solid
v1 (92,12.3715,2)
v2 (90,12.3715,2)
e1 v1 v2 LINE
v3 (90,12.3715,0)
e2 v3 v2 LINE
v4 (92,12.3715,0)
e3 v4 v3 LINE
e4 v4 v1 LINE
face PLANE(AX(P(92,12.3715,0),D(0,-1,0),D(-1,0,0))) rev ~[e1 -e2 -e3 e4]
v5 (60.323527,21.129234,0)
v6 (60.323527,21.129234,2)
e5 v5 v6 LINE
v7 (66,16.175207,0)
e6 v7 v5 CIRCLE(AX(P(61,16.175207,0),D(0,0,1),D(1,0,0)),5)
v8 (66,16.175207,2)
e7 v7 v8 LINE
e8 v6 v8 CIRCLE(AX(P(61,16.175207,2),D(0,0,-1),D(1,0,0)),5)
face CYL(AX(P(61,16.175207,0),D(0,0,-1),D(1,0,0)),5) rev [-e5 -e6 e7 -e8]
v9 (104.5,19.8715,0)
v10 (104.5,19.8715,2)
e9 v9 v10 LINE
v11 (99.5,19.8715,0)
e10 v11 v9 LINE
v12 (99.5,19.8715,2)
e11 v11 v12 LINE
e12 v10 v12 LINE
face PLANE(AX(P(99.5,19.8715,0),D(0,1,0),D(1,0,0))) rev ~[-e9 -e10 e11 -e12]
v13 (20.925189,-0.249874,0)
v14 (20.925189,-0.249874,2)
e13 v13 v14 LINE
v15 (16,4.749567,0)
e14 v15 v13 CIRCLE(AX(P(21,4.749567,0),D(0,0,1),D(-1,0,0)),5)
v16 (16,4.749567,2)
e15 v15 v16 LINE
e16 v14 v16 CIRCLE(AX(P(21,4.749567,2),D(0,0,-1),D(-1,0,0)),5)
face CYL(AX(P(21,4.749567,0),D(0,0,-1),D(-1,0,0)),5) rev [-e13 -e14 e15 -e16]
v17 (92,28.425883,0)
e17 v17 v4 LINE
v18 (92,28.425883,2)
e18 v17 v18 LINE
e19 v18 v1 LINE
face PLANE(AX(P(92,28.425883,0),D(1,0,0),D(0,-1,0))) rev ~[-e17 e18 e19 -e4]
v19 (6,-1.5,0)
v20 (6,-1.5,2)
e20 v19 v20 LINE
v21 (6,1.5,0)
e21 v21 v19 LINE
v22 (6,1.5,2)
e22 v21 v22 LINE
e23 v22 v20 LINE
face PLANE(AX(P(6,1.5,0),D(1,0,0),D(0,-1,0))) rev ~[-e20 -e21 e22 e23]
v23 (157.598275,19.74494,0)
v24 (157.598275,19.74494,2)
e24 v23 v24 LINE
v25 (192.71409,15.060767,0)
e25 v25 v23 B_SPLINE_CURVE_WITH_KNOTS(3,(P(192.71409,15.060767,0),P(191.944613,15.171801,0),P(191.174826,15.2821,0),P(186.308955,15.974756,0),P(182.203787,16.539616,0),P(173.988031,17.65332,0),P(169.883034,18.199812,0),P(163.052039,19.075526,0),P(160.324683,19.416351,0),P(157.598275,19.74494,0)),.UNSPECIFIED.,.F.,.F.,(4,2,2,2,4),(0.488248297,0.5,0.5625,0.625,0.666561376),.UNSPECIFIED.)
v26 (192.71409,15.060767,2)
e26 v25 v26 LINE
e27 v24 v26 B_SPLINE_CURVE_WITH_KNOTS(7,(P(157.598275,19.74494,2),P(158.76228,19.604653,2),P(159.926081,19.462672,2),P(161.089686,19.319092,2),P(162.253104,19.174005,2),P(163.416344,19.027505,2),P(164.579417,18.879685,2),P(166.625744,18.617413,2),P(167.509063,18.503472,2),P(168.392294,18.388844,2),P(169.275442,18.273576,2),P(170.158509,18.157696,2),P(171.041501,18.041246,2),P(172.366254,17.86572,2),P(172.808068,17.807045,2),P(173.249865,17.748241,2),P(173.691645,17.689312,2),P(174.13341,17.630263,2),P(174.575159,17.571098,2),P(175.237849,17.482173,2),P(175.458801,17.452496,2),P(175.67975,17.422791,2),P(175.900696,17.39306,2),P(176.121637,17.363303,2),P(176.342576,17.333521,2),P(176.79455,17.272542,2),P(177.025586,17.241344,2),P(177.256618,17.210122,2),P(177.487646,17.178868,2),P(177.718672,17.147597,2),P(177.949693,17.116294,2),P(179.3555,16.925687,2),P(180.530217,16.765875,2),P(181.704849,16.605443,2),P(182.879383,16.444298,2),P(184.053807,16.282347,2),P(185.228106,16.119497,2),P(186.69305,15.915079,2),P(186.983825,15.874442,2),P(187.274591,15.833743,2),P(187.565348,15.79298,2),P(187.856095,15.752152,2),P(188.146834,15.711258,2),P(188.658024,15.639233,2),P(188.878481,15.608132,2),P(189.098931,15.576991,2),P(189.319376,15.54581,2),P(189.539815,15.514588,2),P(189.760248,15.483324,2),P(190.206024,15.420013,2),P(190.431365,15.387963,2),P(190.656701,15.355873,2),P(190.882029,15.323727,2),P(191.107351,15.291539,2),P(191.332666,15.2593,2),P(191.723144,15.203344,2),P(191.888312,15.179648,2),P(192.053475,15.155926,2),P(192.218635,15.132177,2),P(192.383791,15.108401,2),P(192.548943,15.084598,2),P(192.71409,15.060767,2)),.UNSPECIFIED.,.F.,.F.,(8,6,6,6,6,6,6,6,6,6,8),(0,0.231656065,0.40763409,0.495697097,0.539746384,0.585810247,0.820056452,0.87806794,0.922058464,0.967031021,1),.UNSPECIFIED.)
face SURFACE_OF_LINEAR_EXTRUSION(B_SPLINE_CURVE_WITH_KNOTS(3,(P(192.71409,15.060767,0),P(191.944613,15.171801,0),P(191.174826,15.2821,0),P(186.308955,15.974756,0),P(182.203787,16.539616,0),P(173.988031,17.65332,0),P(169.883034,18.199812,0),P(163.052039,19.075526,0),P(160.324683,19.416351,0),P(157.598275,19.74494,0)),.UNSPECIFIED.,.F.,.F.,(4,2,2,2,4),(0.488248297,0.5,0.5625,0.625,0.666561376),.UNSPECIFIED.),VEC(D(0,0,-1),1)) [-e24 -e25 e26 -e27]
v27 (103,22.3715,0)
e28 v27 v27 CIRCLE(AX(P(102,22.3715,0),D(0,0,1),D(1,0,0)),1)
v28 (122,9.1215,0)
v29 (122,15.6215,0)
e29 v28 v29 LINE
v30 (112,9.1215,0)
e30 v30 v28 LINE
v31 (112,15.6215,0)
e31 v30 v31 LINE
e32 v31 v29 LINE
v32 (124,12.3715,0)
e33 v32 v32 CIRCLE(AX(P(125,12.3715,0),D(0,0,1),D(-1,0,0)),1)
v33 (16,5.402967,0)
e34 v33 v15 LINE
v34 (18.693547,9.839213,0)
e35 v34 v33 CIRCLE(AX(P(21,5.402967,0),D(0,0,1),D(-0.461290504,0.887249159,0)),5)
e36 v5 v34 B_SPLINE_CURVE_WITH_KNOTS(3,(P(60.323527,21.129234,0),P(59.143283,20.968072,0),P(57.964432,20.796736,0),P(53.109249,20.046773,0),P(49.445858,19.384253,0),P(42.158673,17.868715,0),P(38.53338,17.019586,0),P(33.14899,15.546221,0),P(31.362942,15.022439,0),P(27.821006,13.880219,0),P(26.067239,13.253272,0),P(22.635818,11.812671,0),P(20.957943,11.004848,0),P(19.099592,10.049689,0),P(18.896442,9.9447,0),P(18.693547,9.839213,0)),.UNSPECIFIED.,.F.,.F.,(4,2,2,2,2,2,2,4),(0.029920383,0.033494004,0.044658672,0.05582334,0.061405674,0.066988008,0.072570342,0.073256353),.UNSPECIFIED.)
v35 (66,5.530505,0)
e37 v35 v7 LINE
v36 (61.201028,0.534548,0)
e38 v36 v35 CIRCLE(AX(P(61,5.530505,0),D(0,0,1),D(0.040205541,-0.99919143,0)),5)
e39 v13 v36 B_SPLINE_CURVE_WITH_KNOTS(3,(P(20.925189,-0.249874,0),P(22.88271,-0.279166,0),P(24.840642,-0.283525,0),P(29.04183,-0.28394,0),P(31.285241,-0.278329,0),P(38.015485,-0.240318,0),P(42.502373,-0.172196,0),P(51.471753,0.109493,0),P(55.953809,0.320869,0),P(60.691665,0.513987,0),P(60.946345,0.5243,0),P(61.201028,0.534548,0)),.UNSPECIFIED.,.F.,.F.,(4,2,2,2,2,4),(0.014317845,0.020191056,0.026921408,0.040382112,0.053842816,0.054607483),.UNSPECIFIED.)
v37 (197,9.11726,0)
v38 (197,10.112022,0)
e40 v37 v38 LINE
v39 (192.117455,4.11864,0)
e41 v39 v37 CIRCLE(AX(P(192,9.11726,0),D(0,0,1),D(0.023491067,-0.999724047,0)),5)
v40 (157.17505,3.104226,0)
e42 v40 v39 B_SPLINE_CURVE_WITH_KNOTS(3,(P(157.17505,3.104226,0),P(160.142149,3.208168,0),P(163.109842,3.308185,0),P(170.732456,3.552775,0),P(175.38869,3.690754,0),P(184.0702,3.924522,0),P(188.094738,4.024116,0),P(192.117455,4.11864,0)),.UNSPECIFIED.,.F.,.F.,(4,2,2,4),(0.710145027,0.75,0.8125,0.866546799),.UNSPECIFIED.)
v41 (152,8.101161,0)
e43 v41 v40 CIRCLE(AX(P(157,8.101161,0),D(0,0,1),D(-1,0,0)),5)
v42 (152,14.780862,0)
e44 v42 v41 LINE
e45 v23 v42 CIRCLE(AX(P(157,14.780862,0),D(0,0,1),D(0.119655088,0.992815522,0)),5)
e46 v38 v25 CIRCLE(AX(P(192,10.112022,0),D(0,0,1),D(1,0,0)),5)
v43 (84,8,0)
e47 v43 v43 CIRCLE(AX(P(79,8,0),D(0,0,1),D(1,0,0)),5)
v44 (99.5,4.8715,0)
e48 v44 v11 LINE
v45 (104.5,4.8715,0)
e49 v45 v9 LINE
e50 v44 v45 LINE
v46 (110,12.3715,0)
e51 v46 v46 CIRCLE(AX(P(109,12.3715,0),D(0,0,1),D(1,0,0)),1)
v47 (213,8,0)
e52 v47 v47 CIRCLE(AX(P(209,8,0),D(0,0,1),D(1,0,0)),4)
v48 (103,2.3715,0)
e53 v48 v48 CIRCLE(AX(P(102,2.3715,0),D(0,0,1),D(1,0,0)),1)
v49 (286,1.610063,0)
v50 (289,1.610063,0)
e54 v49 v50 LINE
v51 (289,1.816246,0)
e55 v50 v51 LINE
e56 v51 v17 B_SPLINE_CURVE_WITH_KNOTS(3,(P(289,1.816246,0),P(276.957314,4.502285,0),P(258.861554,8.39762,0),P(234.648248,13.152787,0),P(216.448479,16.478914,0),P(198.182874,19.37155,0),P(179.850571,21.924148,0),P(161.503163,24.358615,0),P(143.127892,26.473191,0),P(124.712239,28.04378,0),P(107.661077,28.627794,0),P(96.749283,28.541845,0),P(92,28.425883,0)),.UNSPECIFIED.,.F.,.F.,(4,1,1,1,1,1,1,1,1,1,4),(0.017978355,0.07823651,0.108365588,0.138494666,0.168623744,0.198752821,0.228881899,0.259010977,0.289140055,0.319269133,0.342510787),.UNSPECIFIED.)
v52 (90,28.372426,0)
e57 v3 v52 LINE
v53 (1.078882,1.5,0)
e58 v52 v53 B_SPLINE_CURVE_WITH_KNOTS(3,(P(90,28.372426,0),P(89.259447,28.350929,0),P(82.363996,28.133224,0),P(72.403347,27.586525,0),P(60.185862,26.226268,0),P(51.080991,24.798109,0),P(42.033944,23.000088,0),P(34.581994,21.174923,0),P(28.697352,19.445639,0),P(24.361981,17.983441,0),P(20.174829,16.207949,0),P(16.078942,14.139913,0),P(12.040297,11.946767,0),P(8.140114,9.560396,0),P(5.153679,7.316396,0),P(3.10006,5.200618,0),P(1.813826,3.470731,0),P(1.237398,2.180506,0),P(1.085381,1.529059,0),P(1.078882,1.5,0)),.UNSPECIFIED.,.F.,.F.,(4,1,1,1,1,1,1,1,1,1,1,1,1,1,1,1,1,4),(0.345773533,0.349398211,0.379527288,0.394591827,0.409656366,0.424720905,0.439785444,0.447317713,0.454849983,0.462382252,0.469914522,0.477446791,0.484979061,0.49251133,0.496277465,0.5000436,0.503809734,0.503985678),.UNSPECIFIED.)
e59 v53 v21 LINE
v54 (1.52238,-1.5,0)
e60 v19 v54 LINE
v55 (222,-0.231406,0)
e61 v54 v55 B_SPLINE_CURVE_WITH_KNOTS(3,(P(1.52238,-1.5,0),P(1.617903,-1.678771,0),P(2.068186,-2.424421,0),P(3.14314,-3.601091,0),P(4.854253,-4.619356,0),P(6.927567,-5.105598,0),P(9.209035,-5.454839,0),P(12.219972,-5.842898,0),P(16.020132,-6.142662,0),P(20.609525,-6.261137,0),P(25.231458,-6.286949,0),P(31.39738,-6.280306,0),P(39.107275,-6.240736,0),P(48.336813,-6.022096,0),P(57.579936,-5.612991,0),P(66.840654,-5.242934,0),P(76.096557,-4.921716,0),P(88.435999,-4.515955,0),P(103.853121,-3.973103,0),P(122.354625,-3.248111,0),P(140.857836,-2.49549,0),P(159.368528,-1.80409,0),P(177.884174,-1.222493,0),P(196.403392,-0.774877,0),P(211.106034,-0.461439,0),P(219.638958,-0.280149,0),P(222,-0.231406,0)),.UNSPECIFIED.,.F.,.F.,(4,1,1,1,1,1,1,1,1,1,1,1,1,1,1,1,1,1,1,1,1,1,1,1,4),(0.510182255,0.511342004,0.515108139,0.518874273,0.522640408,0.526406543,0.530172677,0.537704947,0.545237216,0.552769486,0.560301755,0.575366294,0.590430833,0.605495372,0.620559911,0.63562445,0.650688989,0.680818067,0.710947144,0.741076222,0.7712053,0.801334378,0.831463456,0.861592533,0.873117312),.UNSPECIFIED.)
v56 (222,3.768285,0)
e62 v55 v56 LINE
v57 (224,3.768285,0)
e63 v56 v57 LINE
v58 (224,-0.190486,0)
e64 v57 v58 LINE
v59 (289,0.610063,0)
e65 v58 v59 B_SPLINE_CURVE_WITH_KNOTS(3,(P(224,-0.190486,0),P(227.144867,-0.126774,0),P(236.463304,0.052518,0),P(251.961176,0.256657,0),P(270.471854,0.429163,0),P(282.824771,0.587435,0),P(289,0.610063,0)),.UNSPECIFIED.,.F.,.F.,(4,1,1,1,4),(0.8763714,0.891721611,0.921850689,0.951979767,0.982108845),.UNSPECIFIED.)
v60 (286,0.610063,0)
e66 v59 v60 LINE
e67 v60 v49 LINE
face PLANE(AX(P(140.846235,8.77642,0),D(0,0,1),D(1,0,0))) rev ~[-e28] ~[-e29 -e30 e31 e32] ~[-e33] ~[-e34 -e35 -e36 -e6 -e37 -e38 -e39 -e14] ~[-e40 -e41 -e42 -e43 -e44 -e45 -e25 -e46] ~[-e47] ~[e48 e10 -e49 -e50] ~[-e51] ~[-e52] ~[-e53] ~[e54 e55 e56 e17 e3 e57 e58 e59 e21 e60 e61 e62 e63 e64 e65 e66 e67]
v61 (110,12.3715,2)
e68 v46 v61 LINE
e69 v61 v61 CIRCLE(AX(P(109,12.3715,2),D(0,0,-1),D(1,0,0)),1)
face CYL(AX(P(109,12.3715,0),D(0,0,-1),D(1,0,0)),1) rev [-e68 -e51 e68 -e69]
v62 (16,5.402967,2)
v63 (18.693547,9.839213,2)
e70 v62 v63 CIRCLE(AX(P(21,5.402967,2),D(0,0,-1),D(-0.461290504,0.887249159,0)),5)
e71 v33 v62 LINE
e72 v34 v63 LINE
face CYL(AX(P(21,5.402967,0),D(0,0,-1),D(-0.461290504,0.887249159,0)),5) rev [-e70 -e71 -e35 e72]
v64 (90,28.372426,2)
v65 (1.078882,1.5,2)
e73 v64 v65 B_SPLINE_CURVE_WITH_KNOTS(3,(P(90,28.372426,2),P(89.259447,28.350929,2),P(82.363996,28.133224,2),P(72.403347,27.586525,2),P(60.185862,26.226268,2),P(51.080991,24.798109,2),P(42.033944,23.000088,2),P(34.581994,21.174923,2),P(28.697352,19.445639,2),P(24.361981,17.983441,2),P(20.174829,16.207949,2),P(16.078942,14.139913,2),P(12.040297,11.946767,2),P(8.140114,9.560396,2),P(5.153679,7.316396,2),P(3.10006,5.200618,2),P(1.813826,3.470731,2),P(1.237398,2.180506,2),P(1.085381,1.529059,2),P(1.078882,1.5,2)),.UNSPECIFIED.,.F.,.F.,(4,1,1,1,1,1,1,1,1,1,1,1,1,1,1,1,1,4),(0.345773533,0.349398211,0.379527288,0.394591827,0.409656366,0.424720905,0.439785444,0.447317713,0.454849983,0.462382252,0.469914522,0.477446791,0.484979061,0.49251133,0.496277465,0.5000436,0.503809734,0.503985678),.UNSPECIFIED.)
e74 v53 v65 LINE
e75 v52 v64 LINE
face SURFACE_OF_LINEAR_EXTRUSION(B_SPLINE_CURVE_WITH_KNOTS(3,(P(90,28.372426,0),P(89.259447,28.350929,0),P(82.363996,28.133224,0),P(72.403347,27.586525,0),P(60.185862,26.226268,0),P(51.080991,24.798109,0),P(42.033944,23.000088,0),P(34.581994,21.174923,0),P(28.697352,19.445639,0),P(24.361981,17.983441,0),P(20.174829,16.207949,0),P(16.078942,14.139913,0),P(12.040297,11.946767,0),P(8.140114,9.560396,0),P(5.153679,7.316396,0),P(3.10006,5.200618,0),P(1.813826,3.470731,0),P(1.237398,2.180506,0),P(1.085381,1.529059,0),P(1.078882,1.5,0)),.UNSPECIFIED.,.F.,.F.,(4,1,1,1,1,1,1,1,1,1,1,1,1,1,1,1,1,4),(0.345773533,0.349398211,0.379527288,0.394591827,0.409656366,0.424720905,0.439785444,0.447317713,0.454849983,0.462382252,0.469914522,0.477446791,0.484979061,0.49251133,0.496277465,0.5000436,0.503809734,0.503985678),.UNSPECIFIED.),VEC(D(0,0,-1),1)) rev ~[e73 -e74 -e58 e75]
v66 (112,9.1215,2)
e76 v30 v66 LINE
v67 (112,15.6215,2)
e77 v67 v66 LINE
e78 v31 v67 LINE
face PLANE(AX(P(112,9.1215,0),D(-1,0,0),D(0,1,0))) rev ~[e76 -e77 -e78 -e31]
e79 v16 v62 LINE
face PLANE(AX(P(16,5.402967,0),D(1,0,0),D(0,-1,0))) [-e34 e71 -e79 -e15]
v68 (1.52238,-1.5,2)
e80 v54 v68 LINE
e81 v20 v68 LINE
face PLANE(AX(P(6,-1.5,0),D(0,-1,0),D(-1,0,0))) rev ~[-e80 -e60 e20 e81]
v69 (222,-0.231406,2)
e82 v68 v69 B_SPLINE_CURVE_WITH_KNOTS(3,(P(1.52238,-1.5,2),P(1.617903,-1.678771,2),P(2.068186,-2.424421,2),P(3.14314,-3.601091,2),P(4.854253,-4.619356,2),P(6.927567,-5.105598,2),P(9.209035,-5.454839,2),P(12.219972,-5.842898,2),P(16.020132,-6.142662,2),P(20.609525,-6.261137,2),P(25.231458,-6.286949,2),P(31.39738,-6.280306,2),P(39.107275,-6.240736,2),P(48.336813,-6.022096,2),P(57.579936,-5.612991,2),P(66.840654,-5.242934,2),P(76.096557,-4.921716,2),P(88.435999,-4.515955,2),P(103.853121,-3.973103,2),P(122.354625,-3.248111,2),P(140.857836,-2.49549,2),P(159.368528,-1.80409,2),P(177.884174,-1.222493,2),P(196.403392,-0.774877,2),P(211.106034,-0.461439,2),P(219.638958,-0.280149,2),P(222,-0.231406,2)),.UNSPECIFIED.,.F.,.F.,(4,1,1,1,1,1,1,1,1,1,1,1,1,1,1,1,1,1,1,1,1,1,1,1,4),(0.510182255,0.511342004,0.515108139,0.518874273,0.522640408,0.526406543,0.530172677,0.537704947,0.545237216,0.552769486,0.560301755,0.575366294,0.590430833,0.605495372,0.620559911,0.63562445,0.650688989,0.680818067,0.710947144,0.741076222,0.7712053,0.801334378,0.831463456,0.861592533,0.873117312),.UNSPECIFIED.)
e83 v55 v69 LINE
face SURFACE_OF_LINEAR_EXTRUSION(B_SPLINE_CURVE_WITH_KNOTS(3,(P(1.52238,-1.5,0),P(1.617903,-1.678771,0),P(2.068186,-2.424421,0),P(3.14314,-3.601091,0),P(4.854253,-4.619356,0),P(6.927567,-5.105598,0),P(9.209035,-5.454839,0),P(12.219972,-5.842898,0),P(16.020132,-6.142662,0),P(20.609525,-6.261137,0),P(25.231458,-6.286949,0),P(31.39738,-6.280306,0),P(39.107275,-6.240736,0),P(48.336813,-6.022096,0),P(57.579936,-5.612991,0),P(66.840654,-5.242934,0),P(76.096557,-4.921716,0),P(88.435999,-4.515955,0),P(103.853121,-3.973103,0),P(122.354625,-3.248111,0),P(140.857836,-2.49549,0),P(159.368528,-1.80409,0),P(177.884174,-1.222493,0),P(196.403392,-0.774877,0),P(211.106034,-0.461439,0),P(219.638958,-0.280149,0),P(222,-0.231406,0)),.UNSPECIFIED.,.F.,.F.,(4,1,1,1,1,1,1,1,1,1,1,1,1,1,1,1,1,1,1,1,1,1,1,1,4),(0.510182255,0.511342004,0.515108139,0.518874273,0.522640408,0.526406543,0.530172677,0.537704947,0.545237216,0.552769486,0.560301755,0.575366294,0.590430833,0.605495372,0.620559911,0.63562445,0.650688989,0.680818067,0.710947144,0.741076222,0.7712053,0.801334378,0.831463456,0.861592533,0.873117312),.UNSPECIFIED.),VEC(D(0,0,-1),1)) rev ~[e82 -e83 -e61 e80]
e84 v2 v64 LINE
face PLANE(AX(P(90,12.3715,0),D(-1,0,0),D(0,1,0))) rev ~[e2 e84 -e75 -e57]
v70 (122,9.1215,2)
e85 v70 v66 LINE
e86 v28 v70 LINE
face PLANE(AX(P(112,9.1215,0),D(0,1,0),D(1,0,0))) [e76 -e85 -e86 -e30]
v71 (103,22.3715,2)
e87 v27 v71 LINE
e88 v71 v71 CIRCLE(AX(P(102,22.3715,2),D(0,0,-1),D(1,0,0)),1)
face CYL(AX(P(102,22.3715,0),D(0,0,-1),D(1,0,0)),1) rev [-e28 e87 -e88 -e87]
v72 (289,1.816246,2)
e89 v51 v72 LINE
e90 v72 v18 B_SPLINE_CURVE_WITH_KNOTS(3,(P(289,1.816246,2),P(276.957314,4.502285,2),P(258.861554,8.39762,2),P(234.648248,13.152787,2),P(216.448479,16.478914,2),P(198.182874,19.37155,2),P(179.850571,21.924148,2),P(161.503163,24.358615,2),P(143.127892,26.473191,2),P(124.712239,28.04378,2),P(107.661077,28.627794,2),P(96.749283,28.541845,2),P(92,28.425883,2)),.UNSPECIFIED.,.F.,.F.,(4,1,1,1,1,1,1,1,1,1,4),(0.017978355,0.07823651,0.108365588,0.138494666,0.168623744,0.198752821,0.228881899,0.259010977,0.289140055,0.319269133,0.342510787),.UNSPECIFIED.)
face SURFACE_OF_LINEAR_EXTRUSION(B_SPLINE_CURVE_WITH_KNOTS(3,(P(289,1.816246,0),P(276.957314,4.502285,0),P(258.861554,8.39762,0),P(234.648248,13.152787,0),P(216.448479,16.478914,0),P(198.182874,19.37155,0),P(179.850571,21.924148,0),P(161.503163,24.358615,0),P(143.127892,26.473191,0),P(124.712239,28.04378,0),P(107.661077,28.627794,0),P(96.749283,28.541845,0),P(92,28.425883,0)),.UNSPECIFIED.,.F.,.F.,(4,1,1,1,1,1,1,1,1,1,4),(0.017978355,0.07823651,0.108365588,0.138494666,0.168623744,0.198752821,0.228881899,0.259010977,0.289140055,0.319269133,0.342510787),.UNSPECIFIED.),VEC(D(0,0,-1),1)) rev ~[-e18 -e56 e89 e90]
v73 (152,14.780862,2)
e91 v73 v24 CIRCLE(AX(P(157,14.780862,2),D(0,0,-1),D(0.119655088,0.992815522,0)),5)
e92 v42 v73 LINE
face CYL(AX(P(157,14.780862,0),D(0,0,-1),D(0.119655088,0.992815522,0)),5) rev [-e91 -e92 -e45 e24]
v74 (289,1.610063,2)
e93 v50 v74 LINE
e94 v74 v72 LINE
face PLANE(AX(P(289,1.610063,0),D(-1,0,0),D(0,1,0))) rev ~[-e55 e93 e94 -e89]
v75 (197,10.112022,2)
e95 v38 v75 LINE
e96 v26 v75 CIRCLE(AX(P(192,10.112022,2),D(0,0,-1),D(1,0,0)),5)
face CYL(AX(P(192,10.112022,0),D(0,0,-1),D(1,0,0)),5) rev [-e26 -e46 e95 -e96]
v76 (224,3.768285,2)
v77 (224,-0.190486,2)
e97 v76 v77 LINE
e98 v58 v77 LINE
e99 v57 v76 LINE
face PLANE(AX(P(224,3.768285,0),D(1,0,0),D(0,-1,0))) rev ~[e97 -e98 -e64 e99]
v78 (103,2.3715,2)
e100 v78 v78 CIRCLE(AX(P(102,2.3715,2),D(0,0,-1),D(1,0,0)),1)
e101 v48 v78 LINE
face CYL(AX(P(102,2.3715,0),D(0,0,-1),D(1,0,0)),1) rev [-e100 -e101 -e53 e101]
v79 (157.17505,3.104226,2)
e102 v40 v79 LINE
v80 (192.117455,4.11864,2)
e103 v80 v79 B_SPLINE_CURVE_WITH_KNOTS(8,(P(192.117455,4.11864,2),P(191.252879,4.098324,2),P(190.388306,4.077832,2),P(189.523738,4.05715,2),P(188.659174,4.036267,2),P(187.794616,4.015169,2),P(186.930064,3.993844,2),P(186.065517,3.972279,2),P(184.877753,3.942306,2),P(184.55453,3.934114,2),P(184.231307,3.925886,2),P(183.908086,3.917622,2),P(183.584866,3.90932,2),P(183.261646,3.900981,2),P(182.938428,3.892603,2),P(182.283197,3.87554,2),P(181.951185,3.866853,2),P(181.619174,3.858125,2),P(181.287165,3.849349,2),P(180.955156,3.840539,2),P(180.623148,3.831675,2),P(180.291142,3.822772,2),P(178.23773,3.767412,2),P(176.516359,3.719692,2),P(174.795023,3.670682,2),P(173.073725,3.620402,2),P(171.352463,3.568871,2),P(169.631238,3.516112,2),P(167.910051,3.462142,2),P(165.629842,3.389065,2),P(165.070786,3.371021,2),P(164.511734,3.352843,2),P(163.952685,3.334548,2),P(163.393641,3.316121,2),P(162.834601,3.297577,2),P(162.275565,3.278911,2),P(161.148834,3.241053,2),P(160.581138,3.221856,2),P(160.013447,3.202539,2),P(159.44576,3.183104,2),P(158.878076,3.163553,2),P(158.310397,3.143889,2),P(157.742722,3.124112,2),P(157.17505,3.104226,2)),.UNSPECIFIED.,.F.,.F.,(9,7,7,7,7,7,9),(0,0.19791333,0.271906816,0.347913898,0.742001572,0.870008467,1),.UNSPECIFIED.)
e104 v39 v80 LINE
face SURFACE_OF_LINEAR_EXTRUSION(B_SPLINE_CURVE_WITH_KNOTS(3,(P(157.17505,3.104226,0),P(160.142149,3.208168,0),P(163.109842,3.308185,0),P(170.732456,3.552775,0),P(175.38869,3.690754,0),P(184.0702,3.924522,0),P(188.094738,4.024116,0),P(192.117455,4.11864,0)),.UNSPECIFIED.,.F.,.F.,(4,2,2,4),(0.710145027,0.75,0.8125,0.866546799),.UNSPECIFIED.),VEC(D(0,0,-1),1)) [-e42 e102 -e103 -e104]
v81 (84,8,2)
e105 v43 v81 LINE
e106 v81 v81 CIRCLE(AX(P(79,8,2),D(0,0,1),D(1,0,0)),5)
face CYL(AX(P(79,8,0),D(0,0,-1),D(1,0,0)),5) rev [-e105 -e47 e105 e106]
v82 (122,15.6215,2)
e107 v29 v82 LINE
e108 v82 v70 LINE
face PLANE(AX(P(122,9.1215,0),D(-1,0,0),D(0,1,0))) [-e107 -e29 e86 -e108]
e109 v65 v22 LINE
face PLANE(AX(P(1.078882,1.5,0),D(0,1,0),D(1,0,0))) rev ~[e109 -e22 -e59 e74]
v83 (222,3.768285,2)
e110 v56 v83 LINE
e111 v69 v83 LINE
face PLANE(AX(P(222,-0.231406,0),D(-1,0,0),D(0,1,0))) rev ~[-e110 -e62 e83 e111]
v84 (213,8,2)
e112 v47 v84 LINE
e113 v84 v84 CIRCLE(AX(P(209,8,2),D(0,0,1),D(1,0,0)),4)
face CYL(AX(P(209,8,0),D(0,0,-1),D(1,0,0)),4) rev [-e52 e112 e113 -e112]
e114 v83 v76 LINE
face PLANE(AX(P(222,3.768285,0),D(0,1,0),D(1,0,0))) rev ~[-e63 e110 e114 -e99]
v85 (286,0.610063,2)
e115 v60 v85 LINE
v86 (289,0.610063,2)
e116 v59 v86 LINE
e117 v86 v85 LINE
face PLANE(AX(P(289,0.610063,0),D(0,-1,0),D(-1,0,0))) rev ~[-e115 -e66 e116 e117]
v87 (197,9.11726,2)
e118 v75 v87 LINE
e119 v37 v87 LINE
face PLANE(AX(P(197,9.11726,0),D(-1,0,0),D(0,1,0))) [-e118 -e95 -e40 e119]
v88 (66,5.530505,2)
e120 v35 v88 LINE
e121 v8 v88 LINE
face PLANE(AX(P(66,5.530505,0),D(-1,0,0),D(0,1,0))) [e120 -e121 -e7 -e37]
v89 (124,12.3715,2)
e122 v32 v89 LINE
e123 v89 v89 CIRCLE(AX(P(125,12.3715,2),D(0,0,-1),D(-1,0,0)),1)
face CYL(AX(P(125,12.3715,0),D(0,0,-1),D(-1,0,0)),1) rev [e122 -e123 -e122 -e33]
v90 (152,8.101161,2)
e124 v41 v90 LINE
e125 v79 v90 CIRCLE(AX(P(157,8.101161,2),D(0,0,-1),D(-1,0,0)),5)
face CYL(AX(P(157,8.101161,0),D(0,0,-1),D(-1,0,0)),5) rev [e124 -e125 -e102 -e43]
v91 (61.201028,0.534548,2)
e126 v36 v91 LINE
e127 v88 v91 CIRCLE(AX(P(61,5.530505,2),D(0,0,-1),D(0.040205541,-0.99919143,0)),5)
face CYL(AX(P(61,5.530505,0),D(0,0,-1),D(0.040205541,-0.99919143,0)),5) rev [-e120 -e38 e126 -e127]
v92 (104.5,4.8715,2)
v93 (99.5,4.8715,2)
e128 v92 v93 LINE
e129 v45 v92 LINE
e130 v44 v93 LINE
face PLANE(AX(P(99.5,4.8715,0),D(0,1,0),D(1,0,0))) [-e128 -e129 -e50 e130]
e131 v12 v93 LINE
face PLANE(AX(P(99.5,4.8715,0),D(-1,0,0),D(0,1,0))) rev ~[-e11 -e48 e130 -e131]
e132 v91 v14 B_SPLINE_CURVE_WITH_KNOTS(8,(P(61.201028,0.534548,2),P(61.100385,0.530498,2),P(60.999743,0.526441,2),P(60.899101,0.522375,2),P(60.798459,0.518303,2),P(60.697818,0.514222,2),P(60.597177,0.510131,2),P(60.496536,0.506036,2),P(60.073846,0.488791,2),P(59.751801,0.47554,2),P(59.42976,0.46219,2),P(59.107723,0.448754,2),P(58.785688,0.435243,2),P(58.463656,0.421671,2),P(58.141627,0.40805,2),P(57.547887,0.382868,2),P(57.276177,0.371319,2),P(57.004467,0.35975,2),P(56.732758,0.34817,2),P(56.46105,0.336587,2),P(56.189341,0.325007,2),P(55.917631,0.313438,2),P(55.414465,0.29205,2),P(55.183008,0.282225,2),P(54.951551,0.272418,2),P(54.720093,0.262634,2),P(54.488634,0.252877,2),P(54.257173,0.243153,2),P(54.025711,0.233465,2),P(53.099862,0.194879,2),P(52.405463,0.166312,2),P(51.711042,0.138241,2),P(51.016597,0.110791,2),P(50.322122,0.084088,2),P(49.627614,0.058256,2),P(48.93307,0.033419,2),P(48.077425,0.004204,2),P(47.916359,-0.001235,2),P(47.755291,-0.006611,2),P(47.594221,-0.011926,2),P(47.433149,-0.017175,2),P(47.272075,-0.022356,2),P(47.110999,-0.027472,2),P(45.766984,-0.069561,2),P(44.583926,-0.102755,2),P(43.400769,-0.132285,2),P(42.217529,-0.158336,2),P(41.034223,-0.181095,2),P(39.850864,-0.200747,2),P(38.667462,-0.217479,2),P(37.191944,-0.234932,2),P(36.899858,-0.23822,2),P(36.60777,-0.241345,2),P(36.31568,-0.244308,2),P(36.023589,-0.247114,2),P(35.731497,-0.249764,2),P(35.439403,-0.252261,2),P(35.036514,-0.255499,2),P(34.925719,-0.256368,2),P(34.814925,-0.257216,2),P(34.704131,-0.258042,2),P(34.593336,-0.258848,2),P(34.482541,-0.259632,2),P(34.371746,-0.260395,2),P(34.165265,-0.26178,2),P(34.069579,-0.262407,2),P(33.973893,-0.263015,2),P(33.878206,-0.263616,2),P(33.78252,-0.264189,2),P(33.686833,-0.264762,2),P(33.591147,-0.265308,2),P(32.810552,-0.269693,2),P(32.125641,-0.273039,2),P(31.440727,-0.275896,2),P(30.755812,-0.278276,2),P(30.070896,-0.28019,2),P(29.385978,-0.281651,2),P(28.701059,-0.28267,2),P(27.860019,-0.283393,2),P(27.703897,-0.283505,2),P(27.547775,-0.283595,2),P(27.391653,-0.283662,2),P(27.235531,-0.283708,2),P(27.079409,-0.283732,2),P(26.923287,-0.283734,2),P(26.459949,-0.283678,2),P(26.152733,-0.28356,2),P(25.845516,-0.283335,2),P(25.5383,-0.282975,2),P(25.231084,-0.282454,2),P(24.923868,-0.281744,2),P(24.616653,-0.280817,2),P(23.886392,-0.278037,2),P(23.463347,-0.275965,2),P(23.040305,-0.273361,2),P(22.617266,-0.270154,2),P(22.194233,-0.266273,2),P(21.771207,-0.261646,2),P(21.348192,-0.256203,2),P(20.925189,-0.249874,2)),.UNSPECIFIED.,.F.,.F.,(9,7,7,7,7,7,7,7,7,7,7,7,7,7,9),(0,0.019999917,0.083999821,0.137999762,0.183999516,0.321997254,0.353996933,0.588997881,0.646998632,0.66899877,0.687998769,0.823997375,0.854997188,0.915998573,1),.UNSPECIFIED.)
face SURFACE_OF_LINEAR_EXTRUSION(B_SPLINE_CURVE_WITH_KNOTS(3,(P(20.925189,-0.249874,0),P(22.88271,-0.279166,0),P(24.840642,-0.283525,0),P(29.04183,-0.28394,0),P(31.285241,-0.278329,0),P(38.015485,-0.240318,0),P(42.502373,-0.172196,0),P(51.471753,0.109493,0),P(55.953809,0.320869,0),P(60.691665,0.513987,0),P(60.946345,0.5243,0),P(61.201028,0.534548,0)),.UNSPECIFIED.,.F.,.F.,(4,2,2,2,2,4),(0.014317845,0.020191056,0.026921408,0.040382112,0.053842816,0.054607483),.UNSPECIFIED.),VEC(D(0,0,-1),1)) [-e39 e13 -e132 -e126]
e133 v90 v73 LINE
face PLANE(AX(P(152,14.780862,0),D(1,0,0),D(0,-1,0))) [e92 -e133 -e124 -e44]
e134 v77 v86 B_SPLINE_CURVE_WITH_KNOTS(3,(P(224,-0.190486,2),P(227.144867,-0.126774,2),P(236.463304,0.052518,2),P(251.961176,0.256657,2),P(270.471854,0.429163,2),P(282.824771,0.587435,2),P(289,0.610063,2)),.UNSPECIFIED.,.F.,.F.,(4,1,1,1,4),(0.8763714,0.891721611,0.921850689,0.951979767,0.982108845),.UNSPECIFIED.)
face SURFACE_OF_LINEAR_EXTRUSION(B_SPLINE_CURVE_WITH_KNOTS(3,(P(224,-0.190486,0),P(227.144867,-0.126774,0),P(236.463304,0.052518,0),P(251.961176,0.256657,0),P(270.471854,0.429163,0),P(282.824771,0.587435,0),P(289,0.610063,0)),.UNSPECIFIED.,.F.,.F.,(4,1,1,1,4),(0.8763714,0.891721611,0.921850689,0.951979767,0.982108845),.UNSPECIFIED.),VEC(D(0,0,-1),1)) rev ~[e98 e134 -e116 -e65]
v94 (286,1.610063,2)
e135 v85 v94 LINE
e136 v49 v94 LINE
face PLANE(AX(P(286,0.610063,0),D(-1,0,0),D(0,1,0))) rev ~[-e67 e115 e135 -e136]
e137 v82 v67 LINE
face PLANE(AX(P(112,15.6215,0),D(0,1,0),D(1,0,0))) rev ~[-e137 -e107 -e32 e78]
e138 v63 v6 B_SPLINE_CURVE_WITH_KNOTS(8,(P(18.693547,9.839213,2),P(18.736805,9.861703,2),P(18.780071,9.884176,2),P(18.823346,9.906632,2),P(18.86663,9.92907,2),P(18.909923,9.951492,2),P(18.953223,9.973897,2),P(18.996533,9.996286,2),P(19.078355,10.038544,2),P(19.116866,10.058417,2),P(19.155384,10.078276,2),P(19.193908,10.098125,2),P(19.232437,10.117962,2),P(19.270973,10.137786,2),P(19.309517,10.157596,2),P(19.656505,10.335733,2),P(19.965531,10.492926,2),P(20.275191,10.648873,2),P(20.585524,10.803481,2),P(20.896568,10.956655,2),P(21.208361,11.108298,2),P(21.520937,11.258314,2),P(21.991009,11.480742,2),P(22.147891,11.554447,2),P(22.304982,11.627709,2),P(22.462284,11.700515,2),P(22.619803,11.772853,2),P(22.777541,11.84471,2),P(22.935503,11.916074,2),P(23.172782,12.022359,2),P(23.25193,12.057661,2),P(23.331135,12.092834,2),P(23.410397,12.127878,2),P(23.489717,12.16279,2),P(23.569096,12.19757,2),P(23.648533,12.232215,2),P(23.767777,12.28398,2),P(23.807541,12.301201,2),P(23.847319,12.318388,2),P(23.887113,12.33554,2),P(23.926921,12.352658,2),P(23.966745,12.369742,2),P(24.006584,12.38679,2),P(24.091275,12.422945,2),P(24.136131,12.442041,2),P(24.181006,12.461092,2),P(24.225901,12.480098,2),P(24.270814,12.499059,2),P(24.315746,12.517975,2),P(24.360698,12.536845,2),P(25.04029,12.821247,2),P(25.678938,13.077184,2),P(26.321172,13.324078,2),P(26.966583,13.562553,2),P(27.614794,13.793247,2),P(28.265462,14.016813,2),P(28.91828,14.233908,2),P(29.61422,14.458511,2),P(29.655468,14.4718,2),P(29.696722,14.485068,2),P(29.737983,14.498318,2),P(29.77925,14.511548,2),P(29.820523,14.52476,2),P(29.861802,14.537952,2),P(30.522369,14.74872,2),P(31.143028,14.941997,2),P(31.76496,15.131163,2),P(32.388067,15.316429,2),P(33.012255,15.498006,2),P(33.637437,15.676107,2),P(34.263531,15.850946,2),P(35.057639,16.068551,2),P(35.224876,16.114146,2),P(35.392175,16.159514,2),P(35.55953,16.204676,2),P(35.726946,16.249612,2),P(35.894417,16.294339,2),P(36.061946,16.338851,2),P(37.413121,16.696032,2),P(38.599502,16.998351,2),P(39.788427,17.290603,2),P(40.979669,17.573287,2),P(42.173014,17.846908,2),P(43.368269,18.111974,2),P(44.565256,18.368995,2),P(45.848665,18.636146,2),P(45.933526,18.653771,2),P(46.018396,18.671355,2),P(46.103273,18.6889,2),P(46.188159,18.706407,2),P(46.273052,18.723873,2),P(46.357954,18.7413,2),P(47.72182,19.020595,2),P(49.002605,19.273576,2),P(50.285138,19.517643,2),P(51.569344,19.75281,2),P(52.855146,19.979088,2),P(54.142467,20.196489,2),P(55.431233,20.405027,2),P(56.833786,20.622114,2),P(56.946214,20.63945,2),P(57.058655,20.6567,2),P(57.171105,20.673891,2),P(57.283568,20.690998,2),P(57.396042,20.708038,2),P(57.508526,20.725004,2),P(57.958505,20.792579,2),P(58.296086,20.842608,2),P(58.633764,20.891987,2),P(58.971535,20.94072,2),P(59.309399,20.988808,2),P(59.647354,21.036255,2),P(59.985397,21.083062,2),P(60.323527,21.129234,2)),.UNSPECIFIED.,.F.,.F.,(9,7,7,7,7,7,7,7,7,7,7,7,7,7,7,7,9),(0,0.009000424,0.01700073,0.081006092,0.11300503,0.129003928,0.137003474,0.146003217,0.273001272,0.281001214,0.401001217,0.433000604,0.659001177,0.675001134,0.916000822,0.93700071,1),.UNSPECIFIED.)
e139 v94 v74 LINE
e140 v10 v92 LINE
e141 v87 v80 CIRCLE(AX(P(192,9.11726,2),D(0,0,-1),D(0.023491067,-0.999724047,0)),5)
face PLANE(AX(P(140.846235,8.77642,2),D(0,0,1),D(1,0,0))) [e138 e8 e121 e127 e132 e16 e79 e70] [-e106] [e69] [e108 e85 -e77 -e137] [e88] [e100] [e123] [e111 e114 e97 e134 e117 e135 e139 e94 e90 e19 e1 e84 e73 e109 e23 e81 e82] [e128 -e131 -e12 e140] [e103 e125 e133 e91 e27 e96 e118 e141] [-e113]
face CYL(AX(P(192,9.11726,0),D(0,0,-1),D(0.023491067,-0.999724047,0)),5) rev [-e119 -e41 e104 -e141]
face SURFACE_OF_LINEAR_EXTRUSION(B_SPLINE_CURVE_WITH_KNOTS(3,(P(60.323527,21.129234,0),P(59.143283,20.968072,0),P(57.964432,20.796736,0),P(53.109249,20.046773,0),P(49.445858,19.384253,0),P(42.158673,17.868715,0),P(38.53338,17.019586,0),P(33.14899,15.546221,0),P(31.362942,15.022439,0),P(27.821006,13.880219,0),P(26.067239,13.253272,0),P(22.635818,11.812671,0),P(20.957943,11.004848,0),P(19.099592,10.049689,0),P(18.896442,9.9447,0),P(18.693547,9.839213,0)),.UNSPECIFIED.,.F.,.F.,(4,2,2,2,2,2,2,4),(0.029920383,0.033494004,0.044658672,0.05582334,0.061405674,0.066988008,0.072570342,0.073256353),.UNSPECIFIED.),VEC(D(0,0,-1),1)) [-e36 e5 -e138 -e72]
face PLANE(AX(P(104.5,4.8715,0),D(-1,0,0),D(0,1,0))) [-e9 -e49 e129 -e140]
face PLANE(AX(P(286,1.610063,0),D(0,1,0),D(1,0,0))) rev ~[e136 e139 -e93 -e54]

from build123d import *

# Parameters (mm, degrees)
SKETCH_1_R          = 5
SKETCH_1_R_2        = 4
EXTRUDE_1_DEPTH     = 2
SKETCH_3_R          = 1
SKETCH_3_W          = 10
SKETCH_3_H          = 6.5
SKETCH_3_W_2        = 5
SKETCH_3_H_2        = 15
CUT_EXTRUDE_2_DEPTH = 291.413778556


with BuildPart() as part:
    # 草图1 → 凸台-拉伸1 (new body)
    with BuildSketch(Plane.XY):
        with BuildLine():
            Line((90, 12.3715), (90, 28.372426217))
            add(Edge.make_bspline(
                [(90, 28.372426217), (89.259446982, 28.350928743), (82.363996343, 28.13322439), (72.403347361, 27.586524792), (60.185862052, 26.226268085), (51.080991088, 24.79810862), (42.033943524, 23.000087944), (34.581994337, 21.174922903), (28.697351661, 19.44563851), (24.361981086, 17.983441115), (20.174828998, 16.207949367), (16.078941989, 14.139912989), (12.040296713, 11.946766626), (8.14011433, 9.56039573), (5.153679337, 7.316395724), (3.100060439, 5.200618052), (1.813825976, 3.470730924), (1.237398467, 2.180506339), (1.085380705, 1.529058937), (1.078882286, 1.5)],
                knots=[0.345773533, 0.345773533, 0.345773533, 0.345773533, 0.349398211, 0.379527288, 0.394591827, 0.409656366, 0.424720905, 0.439785444, 0.447317713, 0.454849983, 0.462382252, 0.469914522, 0.477446791, 0.484979061, 0.49251133, 0.496277465, 0.5000436, 0.503809734, 0.503985678, 0.503985678, 0.503985678, 0.503985678], degree=3))
            Line((1.078882286, 1.5), (6, 1.5))
            Line((6, 1.5), (6, -1.5))
            Line((6, -1.5), (1.522379628, -1.5))
            add(Edge.make_bspline(
                [(1.522379628, -1.5), (1.617903461, -1.678770523), (2.068186491, -2.42442122), (3.143139608, -3.601090845), (4.854253, -4.619355756), (6.927567017, -5.105597911), (9.209034621, -5.454839075), (12.219971865, -5.84289763), (16.020132359, -6.14266222), (20.609524976, -6.2611368), (25.231457517, -6.286948592), (31.397380169, -6.280305851), (39.107274969, -6.240736398), (48.336813051, -6.022096429), (57.579935967, -5.612990736), (66.840654471, -5.242934226), (76.096556555, -4.921715721), (88.435998513, -4.515955408), (103.853120896, -3.973102953), (122.354625015, -3.248110744), (140.857835973, -2.495489966), (159.368527813, -1.804089638), (177.884173919, -1.222493213), (196.4033921, -0.774877257), (211.106034353, -0.46143934), (219.638958118, -0.28014938), (222, -0.231405833)],
                knots=[0.510182255, 0.510182255, 0.510182255, 0.510182255, 0.511342004, 0.515108139, 0.518874273, 0.522640408, 0.526406543, 0.530172677, 0.537704947, 0.545237216, 0.552769486, 0.560301755, 0.575366294, 0.590430833, 0.605495372, 0.620559911, 0.63562445, 0.650688989, 0.680818067, 0.710947144, 0.741076222, 0.7712053, 0.801334378, 0.831463456, 0.861592533, 0.873117312, 0.873117312, 0.873117312, 0.873117312], degree=3))
            Line((222, -0.231405833), (222, 3.768284765))
            Line((222, 3.768284765), (224, 3.768284765))
            Line((224, 3.768284765), (224, -0.190486213))
            add(Edge.make_bspline(
                [(224, -0.190486213), (227.14486696, -0.126773539), (236.463303784, 0.052517956), (251.961175933, 0.256656825), (270.471854229, 0.429163033), (282.824771355, 0.587434741), (289, 0.610062865)],
                knots=[0.8763714, 0.8763714, 0.8763714, 0.8763714, 0.891721611, 0.921850689, 0.951979767, 0.982108845, 0.982108845, 0.982108845, 0.982108845], degree=3))
            Line((289, 0.610062865), (286, 0.610062865))
            Line((286, 0.610062865), (286, 1.610062865))
            Line((286, 1.610062865), (289, 1.610062865))
            Line((289, 1.610062865), (289, 1.816246039))
            add(Edge.make_bspline(
                [(289, 1.816246039), (276.957314444, 4.502285023), (258.861554155, 8.397620333), (234.648247971, 13.152786595), (216.448478593, 16.478914183), (198.182873559, 19.371550405), (179.850571346, 21.924148488), (161.503162682, 24.358614825), (143.127892269, 26.473190985), (124.712239059, 28.043780086), (107.661076739, 28.627794226), (96.749283398, 28.541845307), (92, 28.425883181)],
                knots=[0.017978355, 0.017978355, 0.017978355, 0.017978355, 0.07823651, 0.108365588, 0.138494666, 0.168623744, 0.198752821, 0.228881899, 0.259010977, 0.289140055, 0.319269133, 0.342510787, 0.342510787, 0.342510787, 0.342510787], degree=3))
            Line((92, 28.425883181), (92, 12.3715))
            Line((92, 12.3715), (90, 12.3715))
        make_face()
        with Locations((79, 8)):
            Circle(SKETCH_1_R, mode=Mode.SUBTRACT)
        with Locations((209, 8)):
            Circle(SKETCH_1_R_2, mode=Mode.SUBTRACT)
    extrude(amount=EXTRUDE_1_DEPTH)

    # 草图3 → 切除-拉伸2 (cut, through all)
    with BuildSketch(Plane.XY):
        with Locations((109, 12.3715)):
            Circle(SKETCH_3_R)
        with Locations(Location((125, 12.3715, 0), (0, 0, 180))):
            Circle(SKETCH_3_R)
        with Locations((102, 22.3715)):
            Circle(SKETCH_3_R)
        with Locations((102, 2.3715)):
            Circle(SKETCH_3_R)
        with BuildLine():
            Line((16, 5.402967421), (16, 4.749566555))
            ThreePointArc((16, 4.749566555), (17.438114785, 1.240581842), (20.925189485, -0.249873753))
            add(Edge.make_bspline(
                [(20.925189485, -0.249873753), (22.882709708, -0.279165651), (24.840641991, -0.283525018), (29.041829536, -0.283940324), (31.285240614, -0.278329339), (38.015485271, -0.240317871), (42.502372715, -0.172195541), (51.471753165, 0.109493271), (55.953809182, 0.320868582), (60.691665275, 0.51398671), (60.94634527, 0.524299853), (61.201027705, 0.534547785)],
                knots=[0.014317845, 0.014317845, 0.014317845, 0.014317845, 0.020191056, 0.020191056, 0.026921408, 0.026921408, 0.040382112, 0.040382112, 0.053842816, 0.053842816, 0.054607483, 0.054607483, 0.054607483, 0.054607483], degree=3))
            ThreePointArc((61.201027705, 0.534547785), (64.60590755, 2.066774182), (66, 5.530504936))
            Line((66, 5.530504936), (66, 16.175207171))
            ThreePointArc((66, 16.175207171), (64.287676463, 19.942325894), (60.32352661, 21.129234195))
            add(Edge.make_bspline(
                [(60.32352661, 21.129234195), (59.143282742, 20.968071656), (57.964431768, 20.796736398), (53.109249428, 20.046773379), (49.445857595, 19.384253181), (42.158673028, 17.868714577), (38.533379611, 17.019586343), (33.148990447, 15.546220745), (31.362942012, 15.022439399), (27.821005995, 13.880218625), (26.067238608, 13.253271835), (22.635818059, 11.812670552), (20.957942753, 11.004847704), (19.099592195, 10.049689097), (18.896441621, 9.944700093), (18.693547477, 9.839213217)],
                knots=[0.029920383, 0.029920383, 0.029920383, 0.029920383, 0.033494004, 0.033494004, 0.044658672, 0.044658672, 0.05582334, 0.05582334, 0.061405674, 0.061405674, 0.066988008, 0.066988008, 0.072570342, 0.072570342, 0.073256353, 0.073256353, 0.073256353, 0.073256353], degree=3))
            ThreePointArc((18.693547477, 9.839213217), (16.726110517, 7.997937304), (16, 5.402967421))
        make_face()
        with Locations((117, 12.3715)):
            Rectangle(SKETCH_3_W, SKETCH_3_H)
        with Locations((102, 12.3715)):
            Rectangle(SKETCH_3_W_2, SKETCH_3_H_2)
        with BuildLine():
            Line((152, 14.780862449), (152, 8.10116079))
            ThreePointArc((152, 8.10116079), (153.526907054, 4.504269717), (157.175050156, 3.104225985))
            add(Edge.make_bspline(
                [(157.175050156, 3.104225985), (160.142149061, 3.208167931), (163.109842262, 3.308184708), (170.732455506, 3.552774746), (175.388689917, 3.690754395), (184.07020031, 3.924521784), (188.094738333, 4.024115619), (192.117455336, 4.118639618)],
                knots=[0.710145027, 0.710145027, 0.710145027, 0.710145027, 0.75, 0.75, 0.8125, 0.8125, 0.866546799, 0.866546799, 0.866546799, 0.866546799], degree=3))
            ThreePointArc((192.117455336, 4.118639618), (195.576819584, 5.623499462), (197, 9.117259852))
            Line((197, 9.117259852), (197, 10.112022474))
            ThreePointArc((197, 10.112022474), (195.77958016, 13.385365385), (192.714090476, 15.060767244))
            add(Edge.make_bspline(
                [(192.714090476, 15.060767244), (191.944613201, 15.171800732), (191.174825659, 15.282099728), (186.308954619, 15.974755997), (182.203786583, 16.539615577), (173.988030512, 17.653320176), (169.883033971, 18.199812389), (163.05203857, 19.07552627), (160.324682912, 19.416350788), (157.598275441, 19.744940057)],
                knots=[0.488248297, 0.488248297, 0.488248297, 0.488248297, 0.5, 0.5, 0.5625, 0.5625, 0.625, 0.625, 0.666561376, 0.666561376, 0.666561376, 0.666561376], degree=3))
            ThreePointArc((157.598275441, 19.744940057), (153.682725306, 18.521943657), (152, 14.780862449))
        make_face()
    extrude(amount=CUT_EXTRUDE_2_DEPTH, mode=Mode.SUBTRACT)


solid = part.part
